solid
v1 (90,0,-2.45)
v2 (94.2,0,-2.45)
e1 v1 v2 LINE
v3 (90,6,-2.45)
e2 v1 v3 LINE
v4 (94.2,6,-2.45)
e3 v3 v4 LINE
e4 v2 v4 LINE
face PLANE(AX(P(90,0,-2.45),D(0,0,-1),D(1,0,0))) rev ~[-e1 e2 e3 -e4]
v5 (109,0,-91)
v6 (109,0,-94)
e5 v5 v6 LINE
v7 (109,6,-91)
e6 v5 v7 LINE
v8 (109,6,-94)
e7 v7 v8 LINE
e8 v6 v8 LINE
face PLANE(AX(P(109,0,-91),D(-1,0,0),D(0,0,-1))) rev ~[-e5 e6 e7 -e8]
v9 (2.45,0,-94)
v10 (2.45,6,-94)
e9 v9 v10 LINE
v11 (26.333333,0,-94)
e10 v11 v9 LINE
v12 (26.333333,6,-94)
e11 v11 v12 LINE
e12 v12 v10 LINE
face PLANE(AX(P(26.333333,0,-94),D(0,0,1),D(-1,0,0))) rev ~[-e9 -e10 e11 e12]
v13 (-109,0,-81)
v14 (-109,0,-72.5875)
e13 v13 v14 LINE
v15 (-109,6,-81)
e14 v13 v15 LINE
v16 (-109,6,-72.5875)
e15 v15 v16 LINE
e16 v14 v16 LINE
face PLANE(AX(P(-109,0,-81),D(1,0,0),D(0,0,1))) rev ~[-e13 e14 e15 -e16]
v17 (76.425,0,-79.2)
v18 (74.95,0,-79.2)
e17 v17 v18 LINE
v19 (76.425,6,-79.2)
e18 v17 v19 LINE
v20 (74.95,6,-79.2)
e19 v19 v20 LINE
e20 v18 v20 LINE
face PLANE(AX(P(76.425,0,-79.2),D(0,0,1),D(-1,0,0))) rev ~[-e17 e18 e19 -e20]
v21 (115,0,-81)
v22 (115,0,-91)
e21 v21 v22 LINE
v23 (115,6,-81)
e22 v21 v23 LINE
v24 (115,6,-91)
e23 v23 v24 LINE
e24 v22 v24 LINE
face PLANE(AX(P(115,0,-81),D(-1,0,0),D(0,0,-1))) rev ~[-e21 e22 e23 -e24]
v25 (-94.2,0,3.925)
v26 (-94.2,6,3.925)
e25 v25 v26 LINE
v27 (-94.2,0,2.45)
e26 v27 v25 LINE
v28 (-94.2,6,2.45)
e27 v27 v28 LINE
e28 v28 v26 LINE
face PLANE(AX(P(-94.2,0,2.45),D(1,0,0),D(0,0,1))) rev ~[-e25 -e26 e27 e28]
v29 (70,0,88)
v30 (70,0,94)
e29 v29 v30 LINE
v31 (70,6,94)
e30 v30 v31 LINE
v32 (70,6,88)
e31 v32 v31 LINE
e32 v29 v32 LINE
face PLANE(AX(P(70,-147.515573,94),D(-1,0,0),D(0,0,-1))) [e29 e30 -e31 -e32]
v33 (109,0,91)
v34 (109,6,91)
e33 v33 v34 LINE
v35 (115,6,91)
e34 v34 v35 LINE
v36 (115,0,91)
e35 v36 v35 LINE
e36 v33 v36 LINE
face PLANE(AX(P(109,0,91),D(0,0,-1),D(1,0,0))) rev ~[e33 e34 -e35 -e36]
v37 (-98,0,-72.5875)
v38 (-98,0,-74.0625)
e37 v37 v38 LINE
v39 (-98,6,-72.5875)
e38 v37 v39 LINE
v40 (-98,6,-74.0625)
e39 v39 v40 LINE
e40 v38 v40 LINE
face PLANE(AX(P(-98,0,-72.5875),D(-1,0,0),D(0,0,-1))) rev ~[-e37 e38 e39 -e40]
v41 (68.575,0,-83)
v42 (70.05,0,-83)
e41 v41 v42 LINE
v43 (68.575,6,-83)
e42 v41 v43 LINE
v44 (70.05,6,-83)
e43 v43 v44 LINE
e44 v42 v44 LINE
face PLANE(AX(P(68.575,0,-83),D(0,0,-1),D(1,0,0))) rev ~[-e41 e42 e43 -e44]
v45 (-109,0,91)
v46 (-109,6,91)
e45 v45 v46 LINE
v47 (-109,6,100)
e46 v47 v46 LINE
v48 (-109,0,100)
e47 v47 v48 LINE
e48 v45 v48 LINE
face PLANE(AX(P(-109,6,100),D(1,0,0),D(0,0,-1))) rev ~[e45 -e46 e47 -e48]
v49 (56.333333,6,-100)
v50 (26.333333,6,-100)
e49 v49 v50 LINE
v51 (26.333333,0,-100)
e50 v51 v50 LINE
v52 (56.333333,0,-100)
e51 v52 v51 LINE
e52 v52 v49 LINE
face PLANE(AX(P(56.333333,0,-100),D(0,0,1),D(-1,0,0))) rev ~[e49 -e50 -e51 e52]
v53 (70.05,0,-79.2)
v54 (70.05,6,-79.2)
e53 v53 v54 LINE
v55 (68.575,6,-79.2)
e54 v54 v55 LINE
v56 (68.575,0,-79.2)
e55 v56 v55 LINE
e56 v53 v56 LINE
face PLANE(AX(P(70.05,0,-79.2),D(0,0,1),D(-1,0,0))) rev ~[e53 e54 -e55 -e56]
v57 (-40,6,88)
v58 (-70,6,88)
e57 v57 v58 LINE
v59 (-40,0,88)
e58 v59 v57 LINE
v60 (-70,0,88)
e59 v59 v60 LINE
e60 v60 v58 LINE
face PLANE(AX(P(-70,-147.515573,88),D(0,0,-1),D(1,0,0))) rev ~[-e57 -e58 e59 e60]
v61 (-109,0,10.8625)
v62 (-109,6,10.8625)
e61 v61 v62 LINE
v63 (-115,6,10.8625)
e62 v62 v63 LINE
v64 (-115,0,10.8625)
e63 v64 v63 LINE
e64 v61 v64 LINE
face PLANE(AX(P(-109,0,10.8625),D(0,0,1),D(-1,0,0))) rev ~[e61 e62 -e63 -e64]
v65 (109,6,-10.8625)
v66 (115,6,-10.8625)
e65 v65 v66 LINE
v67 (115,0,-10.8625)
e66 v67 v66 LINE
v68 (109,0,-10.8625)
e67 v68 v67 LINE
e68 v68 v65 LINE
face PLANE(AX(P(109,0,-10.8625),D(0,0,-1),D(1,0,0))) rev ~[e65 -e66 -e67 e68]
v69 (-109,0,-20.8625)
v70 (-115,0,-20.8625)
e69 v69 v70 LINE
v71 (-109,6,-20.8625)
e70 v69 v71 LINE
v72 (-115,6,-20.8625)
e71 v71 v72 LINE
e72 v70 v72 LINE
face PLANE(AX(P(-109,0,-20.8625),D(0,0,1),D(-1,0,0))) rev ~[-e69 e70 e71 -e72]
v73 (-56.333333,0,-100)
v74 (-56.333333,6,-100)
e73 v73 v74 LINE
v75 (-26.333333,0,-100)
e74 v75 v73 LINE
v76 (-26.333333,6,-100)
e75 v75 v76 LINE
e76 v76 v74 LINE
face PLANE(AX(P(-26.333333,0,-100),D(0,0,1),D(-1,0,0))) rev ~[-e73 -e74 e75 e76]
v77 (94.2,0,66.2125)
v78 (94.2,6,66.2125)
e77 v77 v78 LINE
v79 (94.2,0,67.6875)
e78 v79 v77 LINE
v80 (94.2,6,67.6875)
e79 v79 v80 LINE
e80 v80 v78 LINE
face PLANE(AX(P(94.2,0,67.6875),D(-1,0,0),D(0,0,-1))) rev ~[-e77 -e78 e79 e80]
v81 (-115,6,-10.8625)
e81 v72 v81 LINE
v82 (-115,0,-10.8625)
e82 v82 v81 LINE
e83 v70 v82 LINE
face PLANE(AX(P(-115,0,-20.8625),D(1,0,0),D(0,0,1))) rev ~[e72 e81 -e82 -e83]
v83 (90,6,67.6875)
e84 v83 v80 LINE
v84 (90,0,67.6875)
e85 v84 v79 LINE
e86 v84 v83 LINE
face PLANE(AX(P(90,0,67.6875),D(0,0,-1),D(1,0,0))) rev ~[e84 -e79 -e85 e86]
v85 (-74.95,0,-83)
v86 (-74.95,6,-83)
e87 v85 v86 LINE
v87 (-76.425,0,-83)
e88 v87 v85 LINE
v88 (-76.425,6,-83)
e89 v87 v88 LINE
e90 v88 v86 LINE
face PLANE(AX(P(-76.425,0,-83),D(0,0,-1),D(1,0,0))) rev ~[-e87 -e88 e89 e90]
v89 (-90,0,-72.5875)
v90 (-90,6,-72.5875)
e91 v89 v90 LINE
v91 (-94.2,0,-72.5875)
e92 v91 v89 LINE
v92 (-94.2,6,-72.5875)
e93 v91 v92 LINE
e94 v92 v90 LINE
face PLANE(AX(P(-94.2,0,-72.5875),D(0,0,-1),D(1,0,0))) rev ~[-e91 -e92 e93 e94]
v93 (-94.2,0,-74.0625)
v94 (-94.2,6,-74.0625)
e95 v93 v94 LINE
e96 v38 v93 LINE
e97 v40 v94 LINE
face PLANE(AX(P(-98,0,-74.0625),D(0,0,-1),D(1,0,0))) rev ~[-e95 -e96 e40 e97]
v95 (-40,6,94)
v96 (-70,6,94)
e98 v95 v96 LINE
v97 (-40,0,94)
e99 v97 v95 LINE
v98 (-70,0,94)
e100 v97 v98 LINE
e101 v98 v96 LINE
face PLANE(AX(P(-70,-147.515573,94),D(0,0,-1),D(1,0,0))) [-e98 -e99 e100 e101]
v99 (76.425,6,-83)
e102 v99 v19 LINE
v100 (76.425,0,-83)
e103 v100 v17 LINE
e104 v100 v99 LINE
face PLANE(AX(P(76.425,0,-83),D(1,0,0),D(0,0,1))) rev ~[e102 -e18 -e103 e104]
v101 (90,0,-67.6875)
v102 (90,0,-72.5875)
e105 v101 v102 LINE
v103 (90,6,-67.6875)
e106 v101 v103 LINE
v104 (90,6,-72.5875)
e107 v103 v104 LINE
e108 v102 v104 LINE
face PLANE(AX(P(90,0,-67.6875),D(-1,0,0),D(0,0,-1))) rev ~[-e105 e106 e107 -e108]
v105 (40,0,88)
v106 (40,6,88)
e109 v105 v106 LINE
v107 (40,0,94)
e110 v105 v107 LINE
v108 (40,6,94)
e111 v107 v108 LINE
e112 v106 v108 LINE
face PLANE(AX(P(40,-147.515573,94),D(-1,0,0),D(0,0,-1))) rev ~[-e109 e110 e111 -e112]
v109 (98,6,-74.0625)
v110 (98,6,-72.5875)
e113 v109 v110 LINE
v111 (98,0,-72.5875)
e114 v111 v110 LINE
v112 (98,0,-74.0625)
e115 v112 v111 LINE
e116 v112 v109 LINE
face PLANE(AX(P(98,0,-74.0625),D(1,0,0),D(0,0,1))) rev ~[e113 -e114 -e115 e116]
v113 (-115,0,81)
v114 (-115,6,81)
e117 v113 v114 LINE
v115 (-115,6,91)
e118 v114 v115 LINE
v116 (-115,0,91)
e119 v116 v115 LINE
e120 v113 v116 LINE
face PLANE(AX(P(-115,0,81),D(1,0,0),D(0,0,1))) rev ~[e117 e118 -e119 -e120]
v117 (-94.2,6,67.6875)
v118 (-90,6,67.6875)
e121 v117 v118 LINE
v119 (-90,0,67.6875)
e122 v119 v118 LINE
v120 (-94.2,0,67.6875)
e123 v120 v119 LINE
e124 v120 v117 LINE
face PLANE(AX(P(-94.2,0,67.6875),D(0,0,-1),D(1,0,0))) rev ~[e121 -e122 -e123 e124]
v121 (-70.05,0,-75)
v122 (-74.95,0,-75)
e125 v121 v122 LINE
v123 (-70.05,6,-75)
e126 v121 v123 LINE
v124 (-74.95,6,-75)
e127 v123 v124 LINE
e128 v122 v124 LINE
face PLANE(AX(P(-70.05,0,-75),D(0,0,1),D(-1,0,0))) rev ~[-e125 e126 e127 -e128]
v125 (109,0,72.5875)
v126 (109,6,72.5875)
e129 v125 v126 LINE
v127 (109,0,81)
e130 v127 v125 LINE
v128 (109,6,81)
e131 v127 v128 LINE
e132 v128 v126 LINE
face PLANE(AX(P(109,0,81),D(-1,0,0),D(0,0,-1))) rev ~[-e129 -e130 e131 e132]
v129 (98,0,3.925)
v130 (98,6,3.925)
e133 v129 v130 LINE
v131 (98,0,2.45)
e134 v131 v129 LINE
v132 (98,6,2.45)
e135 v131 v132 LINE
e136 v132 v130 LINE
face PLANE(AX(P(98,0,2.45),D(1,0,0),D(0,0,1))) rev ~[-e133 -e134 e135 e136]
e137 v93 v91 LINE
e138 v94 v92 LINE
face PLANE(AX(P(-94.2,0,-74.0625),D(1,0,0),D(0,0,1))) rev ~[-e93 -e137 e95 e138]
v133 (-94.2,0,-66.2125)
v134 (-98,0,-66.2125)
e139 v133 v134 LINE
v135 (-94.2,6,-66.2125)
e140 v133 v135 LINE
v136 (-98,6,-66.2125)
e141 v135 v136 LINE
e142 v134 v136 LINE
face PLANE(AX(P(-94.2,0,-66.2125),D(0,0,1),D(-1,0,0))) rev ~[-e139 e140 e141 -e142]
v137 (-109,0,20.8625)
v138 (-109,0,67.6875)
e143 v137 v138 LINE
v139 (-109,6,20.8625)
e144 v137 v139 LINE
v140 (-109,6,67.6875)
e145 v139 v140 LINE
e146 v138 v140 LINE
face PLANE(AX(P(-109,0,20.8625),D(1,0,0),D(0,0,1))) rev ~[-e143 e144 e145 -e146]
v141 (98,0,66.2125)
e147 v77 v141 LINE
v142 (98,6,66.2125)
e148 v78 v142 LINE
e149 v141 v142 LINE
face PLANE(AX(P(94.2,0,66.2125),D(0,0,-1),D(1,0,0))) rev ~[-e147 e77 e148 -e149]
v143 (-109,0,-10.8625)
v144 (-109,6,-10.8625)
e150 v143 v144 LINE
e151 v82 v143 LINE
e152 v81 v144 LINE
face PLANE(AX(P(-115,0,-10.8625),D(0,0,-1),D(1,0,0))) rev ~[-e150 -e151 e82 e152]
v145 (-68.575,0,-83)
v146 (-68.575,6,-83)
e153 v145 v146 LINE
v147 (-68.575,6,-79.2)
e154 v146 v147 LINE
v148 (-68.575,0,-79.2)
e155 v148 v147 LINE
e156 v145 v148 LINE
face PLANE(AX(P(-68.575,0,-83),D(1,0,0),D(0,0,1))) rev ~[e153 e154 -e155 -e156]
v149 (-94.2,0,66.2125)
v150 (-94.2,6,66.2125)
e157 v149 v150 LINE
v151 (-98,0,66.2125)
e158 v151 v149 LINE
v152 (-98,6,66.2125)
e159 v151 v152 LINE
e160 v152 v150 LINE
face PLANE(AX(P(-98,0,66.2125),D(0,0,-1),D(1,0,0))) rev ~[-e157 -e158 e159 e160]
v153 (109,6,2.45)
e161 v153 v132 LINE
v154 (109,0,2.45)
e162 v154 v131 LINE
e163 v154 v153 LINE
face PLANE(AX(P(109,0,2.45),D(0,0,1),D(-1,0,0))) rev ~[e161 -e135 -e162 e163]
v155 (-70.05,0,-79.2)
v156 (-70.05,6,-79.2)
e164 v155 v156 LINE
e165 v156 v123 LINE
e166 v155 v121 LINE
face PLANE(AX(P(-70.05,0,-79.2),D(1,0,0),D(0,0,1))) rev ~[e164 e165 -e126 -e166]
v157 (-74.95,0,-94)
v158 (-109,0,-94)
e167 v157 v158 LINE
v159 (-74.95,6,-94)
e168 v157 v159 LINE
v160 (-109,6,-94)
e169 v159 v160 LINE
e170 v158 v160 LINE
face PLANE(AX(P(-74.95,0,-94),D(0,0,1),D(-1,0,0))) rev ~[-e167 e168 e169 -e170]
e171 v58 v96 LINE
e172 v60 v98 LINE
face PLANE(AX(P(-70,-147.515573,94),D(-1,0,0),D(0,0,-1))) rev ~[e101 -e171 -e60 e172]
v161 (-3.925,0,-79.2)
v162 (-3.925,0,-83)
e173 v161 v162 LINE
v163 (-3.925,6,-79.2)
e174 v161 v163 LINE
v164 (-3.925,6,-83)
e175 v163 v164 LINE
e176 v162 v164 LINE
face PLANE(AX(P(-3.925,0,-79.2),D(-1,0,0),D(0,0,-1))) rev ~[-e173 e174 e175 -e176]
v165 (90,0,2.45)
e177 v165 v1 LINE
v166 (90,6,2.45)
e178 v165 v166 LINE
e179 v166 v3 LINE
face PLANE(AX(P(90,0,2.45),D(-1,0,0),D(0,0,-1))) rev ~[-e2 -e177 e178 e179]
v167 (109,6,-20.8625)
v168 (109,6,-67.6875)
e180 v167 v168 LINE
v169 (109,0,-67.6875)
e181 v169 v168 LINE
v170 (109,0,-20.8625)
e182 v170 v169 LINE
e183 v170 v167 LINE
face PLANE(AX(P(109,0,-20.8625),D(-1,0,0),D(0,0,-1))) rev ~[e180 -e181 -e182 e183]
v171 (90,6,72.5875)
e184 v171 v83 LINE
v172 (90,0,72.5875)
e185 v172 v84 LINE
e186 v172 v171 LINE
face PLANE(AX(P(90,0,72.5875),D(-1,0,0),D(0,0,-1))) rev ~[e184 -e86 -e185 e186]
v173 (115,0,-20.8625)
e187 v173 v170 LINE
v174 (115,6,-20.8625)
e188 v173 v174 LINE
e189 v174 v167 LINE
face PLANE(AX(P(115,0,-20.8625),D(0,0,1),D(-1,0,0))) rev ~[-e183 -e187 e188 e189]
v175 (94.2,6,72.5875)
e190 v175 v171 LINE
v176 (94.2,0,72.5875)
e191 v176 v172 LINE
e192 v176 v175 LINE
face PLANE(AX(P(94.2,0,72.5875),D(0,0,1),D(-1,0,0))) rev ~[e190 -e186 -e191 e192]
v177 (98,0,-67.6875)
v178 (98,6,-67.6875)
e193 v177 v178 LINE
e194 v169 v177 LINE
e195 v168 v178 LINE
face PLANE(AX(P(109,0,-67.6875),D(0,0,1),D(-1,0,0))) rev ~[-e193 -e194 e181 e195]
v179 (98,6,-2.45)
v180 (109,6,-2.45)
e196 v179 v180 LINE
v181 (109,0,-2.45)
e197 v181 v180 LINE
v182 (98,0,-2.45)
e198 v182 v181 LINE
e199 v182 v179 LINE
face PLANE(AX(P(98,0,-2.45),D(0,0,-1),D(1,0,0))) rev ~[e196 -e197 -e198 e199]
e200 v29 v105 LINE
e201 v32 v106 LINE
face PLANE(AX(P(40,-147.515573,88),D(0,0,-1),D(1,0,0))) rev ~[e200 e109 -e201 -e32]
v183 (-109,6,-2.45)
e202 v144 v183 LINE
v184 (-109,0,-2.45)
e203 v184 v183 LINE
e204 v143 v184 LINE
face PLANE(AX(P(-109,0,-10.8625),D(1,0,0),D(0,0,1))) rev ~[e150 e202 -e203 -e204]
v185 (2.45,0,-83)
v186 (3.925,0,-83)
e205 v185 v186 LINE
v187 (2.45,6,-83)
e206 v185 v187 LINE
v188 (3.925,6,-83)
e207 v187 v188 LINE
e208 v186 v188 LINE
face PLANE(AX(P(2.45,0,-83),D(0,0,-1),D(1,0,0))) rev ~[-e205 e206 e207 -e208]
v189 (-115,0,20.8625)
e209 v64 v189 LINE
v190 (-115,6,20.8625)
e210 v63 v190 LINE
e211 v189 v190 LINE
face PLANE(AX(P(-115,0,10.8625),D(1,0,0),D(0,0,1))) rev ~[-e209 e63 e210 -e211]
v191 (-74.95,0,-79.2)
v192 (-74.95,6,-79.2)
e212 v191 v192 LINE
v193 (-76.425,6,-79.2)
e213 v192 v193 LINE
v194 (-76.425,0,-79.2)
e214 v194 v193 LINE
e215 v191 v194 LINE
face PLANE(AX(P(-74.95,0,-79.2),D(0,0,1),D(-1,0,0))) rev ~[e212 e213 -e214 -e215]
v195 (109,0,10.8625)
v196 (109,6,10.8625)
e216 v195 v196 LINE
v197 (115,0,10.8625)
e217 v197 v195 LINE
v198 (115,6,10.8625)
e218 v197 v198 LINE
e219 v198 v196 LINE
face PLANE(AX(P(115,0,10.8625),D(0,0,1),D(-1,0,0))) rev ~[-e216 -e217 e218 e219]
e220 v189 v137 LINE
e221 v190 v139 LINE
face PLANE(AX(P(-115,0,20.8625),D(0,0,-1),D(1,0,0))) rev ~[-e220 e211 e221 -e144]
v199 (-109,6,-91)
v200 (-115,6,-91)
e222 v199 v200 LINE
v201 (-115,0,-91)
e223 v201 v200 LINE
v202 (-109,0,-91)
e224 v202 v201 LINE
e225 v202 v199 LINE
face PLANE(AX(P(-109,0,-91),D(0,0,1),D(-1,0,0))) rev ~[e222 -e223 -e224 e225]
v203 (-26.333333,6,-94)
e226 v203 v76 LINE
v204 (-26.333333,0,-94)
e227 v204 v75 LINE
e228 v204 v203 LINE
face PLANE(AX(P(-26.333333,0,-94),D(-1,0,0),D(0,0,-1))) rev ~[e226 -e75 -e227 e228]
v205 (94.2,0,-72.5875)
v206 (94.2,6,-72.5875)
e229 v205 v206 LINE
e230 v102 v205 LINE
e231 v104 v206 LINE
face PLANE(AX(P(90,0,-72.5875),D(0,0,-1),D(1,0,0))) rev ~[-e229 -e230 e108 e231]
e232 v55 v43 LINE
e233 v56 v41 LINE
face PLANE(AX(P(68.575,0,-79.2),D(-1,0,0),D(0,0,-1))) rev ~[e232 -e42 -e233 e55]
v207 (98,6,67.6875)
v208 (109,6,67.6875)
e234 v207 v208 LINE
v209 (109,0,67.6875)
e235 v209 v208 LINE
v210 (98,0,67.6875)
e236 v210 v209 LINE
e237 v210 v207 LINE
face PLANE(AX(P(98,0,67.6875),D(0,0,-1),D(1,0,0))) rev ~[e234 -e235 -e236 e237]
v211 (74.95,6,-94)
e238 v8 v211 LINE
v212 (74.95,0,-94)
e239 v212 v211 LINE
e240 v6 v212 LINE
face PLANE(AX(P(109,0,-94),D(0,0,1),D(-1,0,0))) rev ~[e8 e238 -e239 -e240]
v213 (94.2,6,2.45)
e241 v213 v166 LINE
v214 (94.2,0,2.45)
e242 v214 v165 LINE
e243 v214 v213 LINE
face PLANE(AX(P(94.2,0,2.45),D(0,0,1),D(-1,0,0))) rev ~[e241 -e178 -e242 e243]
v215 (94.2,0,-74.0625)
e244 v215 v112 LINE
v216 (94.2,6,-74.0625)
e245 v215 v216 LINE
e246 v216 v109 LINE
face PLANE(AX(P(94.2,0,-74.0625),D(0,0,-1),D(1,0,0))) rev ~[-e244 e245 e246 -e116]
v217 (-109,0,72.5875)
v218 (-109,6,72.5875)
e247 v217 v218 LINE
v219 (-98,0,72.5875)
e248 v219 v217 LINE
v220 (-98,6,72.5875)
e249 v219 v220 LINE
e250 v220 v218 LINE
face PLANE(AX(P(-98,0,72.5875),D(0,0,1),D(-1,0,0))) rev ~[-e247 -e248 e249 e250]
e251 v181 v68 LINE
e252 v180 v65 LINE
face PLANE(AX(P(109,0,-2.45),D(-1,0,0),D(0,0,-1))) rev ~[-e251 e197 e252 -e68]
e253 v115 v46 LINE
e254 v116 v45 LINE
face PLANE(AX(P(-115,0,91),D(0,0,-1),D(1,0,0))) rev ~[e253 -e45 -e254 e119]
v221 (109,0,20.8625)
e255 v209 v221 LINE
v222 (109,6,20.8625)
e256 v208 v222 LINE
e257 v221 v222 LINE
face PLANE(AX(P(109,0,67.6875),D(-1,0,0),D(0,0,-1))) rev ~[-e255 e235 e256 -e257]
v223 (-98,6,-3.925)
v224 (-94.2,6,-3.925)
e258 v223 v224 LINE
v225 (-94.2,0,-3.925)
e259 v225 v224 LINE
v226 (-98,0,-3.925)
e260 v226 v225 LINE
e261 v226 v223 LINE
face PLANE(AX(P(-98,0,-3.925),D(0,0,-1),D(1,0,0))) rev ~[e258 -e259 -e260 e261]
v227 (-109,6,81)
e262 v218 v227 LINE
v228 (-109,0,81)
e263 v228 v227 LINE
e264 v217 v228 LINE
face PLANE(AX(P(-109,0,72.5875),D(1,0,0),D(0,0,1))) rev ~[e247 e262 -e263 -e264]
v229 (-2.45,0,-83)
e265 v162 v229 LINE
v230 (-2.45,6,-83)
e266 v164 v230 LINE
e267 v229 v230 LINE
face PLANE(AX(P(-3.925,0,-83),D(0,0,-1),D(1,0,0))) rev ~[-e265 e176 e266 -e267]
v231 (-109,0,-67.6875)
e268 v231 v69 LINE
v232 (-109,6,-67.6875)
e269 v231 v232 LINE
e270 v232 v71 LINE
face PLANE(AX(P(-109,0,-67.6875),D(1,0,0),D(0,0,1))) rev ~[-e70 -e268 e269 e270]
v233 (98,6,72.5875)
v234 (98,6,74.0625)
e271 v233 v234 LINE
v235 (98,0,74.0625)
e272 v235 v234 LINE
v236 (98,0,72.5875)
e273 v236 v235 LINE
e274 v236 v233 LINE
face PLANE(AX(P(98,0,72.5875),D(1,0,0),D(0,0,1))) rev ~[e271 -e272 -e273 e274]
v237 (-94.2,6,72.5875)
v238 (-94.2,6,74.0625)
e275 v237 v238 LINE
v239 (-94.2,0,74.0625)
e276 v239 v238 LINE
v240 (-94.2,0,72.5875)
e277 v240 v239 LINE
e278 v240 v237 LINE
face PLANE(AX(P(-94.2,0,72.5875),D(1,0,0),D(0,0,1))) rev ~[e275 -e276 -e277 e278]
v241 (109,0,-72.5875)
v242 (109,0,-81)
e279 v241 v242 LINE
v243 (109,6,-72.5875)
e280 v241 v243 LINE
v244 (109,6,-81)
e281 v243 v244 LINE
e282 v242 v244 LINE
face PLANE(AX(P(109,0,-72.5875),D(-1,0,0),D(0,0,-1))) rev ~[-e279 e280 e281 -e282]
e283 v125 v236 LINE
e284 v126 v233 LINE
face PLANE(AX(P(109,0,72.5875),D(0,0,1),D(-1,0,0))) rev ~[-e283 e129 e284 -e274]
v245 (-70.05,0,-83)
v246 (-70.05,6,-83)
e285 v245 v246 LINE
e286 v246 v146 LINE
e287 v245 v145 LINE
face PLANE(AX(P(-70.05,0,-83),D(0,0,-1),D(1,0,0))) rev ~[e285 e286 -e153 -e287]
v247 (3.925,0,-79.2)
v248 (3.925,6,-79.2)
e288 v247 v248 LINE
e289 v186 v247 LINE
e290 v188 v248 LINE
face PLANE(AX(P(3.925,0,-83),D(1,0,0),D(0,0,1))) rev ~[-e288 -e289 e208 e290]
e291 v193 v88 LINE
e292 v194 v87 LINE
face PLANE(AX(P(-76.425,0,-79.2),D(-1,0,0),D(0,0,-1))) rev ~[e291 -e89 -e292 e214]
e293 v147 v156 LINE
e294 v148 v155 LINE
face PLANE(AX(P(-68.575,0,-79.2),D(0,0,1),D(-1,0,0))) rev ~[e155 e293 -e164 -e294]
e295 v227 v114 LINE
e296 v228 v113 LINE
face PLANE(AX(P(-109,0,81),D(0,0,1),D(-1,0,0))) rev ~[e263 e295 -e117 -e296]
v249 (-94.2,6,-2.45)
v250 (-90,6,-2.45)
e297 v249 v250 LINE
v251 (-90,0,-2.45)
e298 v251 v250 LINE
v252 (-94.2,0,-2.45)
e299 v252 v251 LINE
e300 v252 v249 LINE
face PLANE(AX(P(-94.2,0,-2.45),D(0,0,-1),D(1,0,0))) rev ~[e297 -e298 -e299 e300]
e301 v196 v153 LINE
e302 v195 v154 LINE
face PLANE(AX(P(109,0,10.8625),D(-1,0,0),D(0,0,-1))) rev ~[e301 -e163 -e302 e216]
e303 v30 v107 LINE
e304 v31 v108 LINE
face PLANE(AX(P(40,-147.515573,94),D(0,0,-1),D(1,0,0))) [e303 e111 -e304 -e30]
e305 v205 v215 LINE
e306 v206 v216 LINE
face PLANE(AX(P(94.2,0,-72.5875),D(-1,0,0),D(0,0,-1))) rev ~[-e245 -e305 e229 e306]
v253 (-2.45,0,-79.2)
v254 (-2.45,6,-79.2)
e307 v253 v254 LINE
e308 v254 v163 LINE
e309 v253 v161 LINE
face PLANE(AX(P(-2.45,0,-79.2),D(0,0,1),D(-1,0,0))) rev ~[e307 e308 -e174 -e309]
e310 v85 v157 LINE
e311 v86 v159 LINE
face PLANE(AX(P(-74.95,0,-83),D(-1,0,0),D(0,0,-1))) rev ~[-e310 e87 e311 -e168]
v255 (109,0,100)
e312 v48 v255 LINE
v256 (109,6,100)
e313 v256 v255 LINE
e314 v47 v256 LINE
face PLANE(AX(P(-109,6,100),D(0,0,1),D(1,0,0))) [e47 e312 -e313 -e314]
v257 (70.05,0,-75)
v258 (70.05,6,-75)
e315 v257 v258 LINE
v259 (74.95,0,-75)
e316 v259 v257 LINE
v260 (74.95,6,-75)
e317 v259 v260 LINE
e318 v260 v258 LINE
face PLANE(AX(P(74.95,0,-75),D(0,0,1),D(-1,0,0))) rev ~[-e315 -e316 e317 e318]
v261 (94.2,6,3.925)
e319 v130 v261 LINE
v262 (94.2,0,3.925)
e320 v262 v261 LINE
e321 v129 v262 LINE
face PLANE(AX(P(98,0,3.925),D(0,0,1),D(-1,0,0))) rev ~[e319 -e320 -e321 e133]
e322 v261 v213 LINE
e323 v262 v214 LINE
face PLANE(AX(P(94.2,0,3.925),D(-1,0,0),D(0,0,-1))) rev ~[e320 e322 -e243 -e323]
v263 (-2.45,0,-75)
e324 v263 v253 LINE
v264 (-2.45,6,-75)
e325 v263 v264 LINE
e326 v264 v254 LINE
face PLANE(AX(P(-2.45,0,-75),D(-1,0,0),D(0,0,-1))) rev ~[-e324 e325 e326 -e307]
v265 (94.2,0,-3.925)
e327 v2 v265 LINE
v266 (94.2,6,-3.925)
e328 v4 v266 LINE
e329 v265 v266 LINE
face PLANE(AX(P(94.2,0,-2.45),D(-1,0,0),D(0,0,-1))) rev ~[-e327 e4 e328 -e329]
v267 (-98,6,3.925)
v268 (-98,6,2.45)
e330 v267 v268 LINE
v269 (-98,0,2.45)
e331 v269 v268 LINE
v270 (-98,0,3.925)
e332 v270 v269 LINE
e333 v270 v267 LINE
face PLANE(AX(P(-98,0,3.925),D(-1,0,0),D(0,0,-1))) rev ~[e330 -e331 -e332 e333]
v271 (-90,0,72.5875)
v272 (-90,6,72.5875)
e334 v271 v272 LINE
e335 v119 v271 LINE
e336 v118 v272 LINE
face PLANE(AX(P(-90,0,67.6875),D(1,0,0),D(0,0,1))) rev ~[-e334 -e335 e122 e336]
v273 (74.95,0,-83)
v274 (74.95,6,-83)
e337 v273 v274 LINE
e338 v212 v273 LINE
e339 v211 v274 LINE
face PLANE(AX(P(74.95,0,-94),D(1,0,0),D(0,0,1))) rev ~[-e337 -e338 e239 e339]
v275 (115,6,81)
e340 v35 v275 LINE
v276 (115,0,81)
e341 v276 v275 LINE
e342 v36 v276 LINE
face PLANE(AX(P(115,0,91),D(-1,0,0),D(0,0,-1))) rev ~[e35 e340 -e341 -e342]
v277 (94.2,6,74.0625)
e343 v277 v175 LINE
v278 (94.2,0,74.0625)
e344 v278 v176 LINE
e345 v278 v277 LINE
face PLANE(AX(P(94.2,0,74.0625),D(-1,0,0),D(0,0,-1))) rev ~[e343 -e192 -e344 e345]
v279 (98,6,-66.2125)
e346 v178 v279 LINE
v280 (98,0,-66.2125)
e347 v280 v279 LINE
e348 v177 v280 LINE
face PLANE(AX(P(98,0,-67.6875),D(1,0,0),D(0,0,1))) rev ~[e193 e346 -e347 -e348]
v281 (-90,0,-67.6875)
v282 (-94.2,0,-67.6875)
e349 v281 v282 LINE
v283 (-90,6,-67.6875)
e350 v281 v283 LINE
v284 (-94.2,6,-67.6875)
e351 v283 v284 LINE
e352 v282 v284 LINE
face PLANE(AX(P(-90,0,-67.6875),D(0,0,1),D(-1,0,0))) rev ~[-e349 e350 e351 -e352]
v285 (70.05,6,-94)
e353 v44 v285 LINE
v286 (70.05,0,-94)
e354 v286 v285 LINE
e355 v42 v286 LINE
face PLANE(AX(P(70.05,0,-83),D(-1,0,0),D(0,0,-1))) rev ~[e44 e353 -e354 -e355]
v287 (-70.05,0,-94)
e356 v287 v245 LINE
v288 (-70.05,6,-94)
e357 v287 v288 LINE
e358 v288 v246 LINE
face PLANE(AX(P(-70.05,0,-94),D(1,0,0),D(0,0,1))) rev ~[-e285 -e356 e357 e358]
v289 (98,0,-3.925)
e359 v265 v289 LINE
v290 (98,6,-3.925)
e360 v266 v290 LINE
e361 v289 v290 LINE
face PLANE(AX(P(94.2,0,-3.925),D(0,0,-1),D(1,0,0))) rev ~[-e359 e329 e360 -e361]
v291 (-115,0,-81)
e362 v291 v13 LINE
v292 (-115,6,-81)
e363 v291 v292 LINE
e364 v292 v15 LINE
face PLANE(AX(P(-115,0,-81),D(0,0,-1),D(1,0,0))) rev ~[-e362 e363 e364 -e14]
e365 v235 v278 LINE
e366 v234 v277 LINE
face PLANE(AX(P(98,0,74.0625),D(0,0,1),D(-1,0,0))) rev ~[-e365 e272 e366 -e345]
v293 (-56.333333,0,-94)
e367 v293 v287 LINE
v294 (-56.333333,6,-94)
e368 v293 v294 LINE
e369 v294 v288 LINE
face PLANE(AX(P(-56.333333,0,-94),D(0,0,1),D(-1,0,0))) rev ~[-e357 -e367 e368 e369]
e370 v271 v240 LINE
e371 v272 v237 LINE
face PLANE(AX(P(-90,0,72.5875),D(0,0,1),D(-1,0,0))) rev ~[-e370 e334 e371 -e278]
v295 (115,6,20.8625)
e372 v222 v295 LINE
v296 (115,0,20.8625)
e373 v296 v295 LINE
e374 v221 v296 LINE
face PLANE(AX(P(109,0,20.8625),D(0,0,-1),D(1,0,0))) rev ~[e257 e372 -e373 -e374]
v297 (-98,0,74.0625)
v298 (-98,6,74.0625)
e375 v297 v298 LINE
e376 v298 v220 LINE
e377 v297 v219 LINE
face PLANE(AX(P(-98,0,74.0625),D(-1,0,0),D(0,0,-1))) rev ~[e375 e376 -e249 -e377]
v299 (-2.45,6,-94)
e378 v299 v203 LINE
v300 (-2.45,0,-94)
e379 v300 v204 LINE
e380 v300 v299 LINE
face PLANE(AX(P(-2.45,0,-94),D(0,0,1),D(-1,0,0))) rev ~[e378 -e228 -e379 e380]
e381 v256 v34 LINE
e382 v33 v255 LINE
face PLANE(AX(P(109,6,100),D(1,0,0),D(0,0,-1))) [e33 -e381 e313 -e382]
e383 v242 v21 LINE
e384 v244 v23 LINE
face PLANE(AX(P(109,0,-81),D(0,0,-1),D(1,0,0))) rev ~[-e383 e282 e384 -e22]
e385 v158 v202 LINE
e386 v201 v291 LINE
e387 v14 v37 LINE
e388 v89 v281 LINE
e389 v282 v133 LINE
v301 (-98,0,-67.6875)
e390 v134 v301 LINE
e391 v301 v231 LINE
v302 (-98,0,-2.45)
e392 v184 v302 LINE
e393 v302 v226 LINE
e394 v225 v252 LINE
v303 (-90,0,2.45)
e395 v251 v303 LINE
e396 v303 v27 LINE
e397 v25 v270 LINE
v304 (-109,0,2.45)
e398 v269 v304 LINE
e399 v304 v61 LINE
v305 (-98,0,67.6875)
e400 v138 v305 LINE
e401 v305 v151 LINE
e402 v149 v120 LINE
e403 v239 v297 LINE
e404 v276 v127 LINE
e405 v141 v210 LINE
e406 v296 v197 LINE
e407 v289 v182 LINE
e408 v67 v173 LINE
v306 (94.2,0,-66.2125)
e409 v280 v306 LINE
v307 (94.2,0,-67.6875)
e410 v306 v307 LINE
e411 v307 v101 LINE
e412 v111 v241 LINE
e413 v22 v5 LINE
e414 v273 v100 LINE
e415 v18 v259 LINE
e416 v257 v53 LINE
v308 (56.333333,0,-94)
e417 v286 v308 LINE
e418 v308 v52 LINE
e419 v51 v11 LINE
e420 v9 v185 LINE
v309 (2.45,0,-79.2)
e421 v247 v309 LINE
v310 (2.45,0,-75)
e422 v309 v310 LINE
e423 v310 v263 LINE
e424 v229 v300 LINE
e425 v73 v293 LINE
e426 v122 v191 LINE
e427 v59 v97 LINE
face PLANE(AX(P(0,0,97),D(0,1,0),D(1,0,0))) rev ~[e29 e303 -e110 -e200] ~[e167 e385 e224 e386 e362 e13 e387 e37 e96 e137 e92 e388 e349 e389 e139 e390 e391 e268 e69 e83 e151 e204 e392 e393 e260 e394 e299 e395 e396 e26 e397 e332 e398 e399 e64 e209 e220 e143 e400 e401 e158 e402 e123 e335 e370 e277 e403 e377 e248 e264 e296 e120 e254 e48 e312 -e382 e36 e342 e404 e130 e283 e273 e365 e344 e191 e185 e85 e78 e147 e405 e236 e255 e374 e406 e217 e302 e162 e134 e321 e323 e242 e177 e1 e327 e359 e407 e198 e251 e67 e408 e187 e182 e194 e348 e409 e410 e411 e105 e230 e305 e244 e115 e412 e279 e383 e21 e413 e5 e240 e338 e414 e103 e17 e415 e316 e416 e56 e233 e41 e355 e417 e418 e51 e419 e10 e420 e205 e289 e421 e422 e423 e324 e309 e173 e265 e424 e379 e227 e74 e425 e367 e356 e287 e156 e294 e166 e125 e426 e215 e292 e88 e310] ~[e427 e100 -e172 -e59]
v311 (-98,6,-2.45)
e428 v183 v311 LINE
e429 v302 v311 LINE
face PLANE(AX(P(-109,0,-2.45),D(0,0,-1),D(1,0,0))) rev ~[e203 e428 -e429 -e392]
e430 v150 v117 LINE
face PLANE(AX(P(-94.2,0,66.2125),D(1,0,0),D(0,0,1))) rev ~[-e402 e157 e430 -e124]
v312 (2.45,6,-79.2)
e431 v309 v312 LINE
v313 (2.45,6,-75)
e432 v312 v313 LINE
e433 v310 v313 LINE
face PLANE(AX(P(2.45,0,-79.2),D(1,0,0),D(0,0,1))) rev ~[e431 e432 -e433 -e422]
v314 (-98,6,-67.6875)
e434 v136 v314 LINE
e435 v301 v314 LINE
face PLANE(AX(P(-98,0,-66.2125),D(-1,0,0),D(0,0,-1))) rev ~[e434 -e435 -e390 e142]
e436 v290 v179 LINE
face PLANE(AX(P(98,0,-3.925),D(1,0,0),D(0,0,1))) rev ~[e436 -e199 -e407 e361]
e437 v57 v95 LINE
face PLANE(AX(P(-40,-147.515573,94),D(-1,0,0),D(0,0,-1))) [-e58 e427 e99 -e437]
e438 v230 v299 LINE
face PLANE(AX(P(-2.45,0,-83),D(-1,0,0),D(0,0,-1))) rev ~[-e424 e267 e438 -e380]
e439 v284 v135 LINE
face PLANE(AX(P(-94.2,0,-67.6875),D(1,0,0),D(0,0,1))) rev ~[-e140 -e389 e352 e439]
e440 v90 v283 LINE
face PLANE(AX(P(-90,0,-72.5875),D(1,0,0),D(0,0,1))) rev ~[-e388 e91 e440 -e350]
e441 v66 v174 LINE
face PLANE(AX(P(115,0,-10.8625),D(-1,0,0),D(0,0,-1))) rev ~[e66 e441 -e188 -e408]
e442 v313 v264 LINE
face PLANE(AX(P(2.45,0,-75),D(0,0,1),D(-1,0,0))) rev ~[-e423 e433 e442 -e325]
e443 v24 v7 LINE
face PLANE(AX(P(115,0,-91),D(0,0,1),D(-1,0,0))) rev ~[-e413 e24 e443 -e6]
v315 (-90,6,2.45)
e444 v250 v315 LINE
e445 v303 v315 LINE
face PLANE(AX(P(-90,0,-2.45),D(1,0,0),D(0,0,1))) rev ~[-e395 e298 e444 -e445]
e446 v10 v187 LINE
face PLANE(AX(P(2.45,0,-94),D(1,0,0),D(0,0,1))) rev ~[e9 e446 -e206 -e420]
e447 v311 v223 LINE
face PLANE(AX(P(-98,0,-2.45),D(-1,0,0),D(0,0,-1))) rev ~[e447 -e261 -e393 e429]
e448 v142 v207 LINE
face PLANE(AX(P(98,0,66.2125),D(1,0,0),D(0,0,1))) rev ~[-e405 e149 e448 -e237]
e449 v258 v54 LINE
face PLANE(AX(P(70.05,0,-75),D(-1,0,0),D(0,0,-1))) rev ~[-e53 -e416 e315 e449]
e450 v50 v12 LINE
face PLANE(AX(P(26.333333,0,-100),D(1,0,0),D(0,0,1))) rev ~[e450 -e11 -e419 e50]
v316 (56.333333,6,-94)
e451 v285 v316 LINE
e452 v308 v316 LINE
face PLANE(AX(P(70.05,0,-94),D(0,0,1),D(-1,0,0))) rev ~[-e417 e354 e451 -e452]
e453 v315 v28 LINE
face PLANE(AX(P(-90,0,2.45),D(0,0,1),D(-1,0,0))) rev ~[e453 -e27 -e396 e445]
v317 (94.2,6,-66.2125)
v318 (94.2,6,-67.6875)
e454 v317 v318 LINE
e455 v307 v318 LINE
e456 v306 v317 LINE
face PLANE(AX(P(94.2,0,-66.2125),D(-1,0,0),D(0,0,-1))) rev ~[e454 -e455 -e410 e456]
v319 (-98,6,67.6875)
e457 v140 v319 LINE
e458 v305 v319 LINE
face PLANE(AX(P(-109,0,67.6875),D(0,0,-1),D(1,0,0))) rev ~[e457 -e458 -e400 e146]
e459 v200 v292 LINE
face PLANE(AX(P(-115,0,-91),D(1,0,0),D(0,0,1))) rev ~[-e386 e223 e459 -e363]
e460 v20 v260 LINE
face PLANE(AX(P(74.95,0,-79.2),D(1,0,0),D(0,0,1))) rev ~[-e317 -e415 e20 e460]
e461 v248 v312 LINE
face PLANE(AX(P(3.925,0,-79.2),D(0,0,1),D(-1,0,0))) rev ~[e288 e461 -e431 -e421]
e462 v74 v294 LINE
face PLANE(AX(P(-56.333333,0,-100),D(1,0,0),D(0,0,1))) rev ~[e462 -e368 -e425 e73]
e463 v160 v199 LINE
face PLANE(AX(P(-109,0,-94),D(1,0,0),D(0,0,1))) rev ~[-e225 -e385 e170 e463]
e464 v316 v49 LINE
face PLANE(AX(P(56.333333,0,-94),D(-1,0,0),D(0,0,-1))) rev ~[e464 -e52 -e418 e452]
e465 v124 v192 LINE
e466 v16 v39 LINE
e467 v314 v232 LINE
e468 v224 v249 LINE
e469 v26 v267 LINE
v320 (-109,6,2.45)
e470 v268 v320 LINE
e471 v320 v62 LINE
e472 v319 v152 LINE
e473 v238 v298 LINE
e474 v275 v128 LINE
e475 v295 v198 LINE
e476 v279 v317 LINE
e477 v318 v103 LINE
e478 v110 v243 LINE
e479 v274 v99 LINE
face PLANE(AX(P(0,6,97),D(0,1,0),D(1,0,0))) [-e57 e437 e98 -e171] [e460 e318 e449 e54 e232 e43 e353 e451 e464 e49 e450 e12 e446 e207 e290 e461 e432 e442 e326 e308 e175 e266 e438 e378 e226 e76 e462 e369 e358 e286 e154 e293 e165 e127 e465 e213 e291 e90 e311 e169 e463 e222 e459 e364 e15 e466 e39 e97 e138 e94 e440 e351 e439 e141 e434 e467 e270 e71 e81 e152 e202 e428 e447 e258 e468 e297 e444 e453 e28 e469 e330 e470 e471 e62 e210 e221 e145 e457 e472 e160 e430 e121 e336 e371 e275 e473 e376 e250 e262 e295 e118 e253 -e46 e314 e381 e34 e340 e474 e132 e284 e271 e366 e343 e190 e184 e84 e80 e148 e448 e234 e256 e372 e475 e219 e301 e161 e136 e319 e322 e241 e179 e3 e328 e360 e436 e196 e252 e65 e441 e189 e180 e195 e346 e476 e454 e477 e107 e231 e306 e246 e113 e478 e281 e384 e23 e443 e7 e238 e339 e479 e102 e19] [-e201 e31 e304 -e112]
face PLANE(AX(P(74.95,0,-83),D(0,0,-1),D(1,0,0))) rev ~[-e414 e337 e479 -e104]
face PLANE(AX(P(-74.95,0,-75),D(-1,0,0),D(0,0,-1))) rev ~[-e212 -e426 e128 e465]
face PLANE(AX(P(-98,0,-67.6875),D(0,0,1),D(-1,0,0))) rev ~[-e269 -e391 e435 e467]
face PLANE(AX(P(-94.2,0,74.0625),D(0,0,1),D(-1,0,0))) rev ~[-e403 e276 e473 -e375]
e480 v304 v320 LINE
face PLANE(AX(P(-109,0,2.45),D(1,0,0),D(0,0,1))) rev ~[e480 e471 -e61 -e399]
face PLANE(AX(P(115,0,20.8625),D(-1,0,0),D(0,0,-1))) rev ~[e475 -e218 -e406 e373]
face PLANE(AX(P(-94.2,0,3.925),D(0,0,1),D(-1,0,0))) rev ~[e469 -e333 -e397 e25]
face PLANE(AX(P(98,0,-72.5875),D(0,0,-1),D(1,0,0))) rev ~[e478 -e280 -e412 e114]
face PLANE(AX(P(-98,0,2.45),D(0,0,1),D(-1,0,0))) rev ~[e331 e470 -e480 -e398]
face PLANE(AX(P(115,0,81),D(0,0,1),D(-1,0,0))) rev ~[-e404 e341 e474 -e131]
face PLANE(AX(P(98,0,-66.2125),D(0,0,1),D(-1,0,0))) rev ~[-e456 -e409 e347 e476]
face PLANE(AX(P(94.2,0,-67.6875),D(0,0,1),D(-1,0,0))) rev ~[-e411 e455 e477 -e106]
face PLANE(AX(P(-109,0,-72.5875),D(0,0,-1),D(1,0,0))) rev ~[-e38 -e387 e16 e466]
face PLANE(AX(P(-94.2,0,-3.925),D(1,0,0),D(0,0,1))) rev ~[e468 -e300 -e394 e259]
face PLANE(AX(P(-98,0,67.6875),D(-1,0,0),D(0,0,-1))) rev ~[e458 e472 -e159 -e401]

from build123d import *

# Parameters (mm, degrees)
EXTRUDE_1_DEPTH          = 6
SKETCH_2_W               = 218
SKETCH_2_H               = 6
EXTRUDE_2_DEPTH          = 6
CUT_EXTRUDE_5_DEPTH      = 153.515572975
CUT_EXTRUDE_5_DEPTH_BACK = 153.515572975
SKETCH_9_W               = 30
SKETCH_9_H               = 6


with BuildPart() as part:
    # Эскиз1 → Бобышка-Вытянуть1 (new body)
    with BuildSketch(Plane(origin=(0, 0, 0), x_dir=(1, 0, 0), z_dir=(0, 1, 0))):
        Polygon((26.333333333, 100), (26.333333333, 94), (2.45, 94), (2.45, 83), (3.925, 83), (3.925, 79.2), (2.45, 79.2), (2.45, 75), (-2.45, 75), (-2.45, 79.2), (-3.925, 79.2), (-3.925, 83), (-2.45, 83), (-2.45, 94), (-26.333333333, 94), (-26.333333333, 100), (-56.333333333, 100), (-56.333333333, 94), (-70.05, 94), (-70.05, 83), (-68.575, 83), (-68.575, 79.2), (-70.05, 79.2), (-70.05, 75), (-74.95, 75), (-74.95, 79.2), (-76.425, 79.2), (-76.425, 83), (-74.95, 83), (-74.95, 94), (-109, 94), (-109, 91), (-115, 91), (-115, 81), (-109, 81), (-109, 72.5875), (-98, 72.5875), (-98, 74.0625), (-94.2, 74.0625), (-94.2, 72.5875), (-90, 72.5875), (-90, 67.6875), (-94.2, 67.6875), (-94.2, 66.2125), (-98, 66.2125), (-98, 67.6875), (-109, 67.6875), (-109, 20.8625), (-115, 20.8625), (-115, 10.8625), (-109, 10.8625), (-109, 2.45), (-98, 2.45), (-98, 3.925), (-94.2, 3.925), (-94.2, 2.45), (-90, 2.45), (-90, -2.45), (-94.2, -2.45), (-94.2, -3.925), (-98, -3.925), (-98, -2.45), (-109, -2.45), (-109, -10.8625), (-115, -10.8625), (-115, -20.8625), (-109, -20.8625), (-109, -67.6875), (-98, -67.6875), (-98, -66.2125), (-94.2, -66.2125), (-94.2, -67.6875), (-90, -67.6875), (-90, -72.5875), (-94.2, -72.5875), (-94.2, -74.0625), (-98, -74.0625), (-98, -72.5875), (-109, -72.5875), (-109, -81), (-115, -81), (-115, -91), (-109, -91), (-109, -94), (109, -94), (109, -91), (115, -91), (115, -81), (109, -81), (109, -72.5875), (98, -72.5875), (98, -74.0625), (94.2, -74.0625), (94.2, -72.5875), (90, -72.5875), (90, -67.6875), (94.2, -67.6875), (94.2, -66.2125), (98, -66.2125), (98, -67.6875), (109, -67.6875), (109, -20.8625), (115, -20.8625), (115, -10.8625), (109, -10.8625), (109, -2.45), (98, -2.45), (98, -3.925), (94.2, -3.925), (94.2, -2.45), (90, -2.45), (90, 2.45), (94.2, 2.45), (94.2, 3.925), (98, 3.925), (98, 2.45), (109, 2.45), (109, 10.8625), (115, 10.8625), (115, 20.8625), (109, 20.8625), (109, 67.6875), (98, 67.6875), (98, 66.2125), (94.2, 66.2125), (94.2, 67.6875), (90, 67.6875), (90, 72.5875), (94.2, 72.5875), (94.2, 74.0625), (98, 74.0625), (98, 72.5875), (109, 72.5875), (109, 81), (115, 81), (115, 91), (109, 91), (109, 94), (74.95, 94), (74.95, 83), (76.425, 83), (76.425, 79.2), (74.95, 79.2), (74.95, 75), (70.05, 75), (70.05, 79.2), (68.575, 79.2), (68.575, 83), (70.05, 83), (70.05, 94), (56.333333333, 94), (56.333333333, 100), align=None)
    extrude(amount=EXTRUDE_1_DEPTH)

    # Эскиз2 → Бобышка-Вытянуть2 (add)
    with BuildSketch(Plane(origin=(0, 6, 0), x_dir=(1, 0, 0), z_dir=(0, 1, 0))):
        with Locations((0, -97)):
            Rectangle(SKETCH_2_W, SKETCH_2_H)
    extrude(amount=-EXTRUDE_2_DEPTH)

    # Эскиз9 → Вырез-Вытянуть5 (cut, two sides: drawn at the far end of the back side and taken through both)
    with BuildSketch(Plane(origin=(0, 6, 0), x_dir=(1, 0, 0), z_dir=(0, 1, 0)).offset(-CUT_EXTRUDE_5_DEPTH_BACK)):
        with Locations((-55, -91)):
            Rectangle(SKETCH_9_W, SKETCH_9_H)
        with Locations((55, -91)):
            Rectangle(SKETCH_9_W, SKETCH_9_H)
    extrude(amount=CUT_EXTRUDE_5_DEPTH + CUT_EXTRUDE_5_DEPTH_BACK, mode=Mode.SUBTRACT)


solid = part.part
